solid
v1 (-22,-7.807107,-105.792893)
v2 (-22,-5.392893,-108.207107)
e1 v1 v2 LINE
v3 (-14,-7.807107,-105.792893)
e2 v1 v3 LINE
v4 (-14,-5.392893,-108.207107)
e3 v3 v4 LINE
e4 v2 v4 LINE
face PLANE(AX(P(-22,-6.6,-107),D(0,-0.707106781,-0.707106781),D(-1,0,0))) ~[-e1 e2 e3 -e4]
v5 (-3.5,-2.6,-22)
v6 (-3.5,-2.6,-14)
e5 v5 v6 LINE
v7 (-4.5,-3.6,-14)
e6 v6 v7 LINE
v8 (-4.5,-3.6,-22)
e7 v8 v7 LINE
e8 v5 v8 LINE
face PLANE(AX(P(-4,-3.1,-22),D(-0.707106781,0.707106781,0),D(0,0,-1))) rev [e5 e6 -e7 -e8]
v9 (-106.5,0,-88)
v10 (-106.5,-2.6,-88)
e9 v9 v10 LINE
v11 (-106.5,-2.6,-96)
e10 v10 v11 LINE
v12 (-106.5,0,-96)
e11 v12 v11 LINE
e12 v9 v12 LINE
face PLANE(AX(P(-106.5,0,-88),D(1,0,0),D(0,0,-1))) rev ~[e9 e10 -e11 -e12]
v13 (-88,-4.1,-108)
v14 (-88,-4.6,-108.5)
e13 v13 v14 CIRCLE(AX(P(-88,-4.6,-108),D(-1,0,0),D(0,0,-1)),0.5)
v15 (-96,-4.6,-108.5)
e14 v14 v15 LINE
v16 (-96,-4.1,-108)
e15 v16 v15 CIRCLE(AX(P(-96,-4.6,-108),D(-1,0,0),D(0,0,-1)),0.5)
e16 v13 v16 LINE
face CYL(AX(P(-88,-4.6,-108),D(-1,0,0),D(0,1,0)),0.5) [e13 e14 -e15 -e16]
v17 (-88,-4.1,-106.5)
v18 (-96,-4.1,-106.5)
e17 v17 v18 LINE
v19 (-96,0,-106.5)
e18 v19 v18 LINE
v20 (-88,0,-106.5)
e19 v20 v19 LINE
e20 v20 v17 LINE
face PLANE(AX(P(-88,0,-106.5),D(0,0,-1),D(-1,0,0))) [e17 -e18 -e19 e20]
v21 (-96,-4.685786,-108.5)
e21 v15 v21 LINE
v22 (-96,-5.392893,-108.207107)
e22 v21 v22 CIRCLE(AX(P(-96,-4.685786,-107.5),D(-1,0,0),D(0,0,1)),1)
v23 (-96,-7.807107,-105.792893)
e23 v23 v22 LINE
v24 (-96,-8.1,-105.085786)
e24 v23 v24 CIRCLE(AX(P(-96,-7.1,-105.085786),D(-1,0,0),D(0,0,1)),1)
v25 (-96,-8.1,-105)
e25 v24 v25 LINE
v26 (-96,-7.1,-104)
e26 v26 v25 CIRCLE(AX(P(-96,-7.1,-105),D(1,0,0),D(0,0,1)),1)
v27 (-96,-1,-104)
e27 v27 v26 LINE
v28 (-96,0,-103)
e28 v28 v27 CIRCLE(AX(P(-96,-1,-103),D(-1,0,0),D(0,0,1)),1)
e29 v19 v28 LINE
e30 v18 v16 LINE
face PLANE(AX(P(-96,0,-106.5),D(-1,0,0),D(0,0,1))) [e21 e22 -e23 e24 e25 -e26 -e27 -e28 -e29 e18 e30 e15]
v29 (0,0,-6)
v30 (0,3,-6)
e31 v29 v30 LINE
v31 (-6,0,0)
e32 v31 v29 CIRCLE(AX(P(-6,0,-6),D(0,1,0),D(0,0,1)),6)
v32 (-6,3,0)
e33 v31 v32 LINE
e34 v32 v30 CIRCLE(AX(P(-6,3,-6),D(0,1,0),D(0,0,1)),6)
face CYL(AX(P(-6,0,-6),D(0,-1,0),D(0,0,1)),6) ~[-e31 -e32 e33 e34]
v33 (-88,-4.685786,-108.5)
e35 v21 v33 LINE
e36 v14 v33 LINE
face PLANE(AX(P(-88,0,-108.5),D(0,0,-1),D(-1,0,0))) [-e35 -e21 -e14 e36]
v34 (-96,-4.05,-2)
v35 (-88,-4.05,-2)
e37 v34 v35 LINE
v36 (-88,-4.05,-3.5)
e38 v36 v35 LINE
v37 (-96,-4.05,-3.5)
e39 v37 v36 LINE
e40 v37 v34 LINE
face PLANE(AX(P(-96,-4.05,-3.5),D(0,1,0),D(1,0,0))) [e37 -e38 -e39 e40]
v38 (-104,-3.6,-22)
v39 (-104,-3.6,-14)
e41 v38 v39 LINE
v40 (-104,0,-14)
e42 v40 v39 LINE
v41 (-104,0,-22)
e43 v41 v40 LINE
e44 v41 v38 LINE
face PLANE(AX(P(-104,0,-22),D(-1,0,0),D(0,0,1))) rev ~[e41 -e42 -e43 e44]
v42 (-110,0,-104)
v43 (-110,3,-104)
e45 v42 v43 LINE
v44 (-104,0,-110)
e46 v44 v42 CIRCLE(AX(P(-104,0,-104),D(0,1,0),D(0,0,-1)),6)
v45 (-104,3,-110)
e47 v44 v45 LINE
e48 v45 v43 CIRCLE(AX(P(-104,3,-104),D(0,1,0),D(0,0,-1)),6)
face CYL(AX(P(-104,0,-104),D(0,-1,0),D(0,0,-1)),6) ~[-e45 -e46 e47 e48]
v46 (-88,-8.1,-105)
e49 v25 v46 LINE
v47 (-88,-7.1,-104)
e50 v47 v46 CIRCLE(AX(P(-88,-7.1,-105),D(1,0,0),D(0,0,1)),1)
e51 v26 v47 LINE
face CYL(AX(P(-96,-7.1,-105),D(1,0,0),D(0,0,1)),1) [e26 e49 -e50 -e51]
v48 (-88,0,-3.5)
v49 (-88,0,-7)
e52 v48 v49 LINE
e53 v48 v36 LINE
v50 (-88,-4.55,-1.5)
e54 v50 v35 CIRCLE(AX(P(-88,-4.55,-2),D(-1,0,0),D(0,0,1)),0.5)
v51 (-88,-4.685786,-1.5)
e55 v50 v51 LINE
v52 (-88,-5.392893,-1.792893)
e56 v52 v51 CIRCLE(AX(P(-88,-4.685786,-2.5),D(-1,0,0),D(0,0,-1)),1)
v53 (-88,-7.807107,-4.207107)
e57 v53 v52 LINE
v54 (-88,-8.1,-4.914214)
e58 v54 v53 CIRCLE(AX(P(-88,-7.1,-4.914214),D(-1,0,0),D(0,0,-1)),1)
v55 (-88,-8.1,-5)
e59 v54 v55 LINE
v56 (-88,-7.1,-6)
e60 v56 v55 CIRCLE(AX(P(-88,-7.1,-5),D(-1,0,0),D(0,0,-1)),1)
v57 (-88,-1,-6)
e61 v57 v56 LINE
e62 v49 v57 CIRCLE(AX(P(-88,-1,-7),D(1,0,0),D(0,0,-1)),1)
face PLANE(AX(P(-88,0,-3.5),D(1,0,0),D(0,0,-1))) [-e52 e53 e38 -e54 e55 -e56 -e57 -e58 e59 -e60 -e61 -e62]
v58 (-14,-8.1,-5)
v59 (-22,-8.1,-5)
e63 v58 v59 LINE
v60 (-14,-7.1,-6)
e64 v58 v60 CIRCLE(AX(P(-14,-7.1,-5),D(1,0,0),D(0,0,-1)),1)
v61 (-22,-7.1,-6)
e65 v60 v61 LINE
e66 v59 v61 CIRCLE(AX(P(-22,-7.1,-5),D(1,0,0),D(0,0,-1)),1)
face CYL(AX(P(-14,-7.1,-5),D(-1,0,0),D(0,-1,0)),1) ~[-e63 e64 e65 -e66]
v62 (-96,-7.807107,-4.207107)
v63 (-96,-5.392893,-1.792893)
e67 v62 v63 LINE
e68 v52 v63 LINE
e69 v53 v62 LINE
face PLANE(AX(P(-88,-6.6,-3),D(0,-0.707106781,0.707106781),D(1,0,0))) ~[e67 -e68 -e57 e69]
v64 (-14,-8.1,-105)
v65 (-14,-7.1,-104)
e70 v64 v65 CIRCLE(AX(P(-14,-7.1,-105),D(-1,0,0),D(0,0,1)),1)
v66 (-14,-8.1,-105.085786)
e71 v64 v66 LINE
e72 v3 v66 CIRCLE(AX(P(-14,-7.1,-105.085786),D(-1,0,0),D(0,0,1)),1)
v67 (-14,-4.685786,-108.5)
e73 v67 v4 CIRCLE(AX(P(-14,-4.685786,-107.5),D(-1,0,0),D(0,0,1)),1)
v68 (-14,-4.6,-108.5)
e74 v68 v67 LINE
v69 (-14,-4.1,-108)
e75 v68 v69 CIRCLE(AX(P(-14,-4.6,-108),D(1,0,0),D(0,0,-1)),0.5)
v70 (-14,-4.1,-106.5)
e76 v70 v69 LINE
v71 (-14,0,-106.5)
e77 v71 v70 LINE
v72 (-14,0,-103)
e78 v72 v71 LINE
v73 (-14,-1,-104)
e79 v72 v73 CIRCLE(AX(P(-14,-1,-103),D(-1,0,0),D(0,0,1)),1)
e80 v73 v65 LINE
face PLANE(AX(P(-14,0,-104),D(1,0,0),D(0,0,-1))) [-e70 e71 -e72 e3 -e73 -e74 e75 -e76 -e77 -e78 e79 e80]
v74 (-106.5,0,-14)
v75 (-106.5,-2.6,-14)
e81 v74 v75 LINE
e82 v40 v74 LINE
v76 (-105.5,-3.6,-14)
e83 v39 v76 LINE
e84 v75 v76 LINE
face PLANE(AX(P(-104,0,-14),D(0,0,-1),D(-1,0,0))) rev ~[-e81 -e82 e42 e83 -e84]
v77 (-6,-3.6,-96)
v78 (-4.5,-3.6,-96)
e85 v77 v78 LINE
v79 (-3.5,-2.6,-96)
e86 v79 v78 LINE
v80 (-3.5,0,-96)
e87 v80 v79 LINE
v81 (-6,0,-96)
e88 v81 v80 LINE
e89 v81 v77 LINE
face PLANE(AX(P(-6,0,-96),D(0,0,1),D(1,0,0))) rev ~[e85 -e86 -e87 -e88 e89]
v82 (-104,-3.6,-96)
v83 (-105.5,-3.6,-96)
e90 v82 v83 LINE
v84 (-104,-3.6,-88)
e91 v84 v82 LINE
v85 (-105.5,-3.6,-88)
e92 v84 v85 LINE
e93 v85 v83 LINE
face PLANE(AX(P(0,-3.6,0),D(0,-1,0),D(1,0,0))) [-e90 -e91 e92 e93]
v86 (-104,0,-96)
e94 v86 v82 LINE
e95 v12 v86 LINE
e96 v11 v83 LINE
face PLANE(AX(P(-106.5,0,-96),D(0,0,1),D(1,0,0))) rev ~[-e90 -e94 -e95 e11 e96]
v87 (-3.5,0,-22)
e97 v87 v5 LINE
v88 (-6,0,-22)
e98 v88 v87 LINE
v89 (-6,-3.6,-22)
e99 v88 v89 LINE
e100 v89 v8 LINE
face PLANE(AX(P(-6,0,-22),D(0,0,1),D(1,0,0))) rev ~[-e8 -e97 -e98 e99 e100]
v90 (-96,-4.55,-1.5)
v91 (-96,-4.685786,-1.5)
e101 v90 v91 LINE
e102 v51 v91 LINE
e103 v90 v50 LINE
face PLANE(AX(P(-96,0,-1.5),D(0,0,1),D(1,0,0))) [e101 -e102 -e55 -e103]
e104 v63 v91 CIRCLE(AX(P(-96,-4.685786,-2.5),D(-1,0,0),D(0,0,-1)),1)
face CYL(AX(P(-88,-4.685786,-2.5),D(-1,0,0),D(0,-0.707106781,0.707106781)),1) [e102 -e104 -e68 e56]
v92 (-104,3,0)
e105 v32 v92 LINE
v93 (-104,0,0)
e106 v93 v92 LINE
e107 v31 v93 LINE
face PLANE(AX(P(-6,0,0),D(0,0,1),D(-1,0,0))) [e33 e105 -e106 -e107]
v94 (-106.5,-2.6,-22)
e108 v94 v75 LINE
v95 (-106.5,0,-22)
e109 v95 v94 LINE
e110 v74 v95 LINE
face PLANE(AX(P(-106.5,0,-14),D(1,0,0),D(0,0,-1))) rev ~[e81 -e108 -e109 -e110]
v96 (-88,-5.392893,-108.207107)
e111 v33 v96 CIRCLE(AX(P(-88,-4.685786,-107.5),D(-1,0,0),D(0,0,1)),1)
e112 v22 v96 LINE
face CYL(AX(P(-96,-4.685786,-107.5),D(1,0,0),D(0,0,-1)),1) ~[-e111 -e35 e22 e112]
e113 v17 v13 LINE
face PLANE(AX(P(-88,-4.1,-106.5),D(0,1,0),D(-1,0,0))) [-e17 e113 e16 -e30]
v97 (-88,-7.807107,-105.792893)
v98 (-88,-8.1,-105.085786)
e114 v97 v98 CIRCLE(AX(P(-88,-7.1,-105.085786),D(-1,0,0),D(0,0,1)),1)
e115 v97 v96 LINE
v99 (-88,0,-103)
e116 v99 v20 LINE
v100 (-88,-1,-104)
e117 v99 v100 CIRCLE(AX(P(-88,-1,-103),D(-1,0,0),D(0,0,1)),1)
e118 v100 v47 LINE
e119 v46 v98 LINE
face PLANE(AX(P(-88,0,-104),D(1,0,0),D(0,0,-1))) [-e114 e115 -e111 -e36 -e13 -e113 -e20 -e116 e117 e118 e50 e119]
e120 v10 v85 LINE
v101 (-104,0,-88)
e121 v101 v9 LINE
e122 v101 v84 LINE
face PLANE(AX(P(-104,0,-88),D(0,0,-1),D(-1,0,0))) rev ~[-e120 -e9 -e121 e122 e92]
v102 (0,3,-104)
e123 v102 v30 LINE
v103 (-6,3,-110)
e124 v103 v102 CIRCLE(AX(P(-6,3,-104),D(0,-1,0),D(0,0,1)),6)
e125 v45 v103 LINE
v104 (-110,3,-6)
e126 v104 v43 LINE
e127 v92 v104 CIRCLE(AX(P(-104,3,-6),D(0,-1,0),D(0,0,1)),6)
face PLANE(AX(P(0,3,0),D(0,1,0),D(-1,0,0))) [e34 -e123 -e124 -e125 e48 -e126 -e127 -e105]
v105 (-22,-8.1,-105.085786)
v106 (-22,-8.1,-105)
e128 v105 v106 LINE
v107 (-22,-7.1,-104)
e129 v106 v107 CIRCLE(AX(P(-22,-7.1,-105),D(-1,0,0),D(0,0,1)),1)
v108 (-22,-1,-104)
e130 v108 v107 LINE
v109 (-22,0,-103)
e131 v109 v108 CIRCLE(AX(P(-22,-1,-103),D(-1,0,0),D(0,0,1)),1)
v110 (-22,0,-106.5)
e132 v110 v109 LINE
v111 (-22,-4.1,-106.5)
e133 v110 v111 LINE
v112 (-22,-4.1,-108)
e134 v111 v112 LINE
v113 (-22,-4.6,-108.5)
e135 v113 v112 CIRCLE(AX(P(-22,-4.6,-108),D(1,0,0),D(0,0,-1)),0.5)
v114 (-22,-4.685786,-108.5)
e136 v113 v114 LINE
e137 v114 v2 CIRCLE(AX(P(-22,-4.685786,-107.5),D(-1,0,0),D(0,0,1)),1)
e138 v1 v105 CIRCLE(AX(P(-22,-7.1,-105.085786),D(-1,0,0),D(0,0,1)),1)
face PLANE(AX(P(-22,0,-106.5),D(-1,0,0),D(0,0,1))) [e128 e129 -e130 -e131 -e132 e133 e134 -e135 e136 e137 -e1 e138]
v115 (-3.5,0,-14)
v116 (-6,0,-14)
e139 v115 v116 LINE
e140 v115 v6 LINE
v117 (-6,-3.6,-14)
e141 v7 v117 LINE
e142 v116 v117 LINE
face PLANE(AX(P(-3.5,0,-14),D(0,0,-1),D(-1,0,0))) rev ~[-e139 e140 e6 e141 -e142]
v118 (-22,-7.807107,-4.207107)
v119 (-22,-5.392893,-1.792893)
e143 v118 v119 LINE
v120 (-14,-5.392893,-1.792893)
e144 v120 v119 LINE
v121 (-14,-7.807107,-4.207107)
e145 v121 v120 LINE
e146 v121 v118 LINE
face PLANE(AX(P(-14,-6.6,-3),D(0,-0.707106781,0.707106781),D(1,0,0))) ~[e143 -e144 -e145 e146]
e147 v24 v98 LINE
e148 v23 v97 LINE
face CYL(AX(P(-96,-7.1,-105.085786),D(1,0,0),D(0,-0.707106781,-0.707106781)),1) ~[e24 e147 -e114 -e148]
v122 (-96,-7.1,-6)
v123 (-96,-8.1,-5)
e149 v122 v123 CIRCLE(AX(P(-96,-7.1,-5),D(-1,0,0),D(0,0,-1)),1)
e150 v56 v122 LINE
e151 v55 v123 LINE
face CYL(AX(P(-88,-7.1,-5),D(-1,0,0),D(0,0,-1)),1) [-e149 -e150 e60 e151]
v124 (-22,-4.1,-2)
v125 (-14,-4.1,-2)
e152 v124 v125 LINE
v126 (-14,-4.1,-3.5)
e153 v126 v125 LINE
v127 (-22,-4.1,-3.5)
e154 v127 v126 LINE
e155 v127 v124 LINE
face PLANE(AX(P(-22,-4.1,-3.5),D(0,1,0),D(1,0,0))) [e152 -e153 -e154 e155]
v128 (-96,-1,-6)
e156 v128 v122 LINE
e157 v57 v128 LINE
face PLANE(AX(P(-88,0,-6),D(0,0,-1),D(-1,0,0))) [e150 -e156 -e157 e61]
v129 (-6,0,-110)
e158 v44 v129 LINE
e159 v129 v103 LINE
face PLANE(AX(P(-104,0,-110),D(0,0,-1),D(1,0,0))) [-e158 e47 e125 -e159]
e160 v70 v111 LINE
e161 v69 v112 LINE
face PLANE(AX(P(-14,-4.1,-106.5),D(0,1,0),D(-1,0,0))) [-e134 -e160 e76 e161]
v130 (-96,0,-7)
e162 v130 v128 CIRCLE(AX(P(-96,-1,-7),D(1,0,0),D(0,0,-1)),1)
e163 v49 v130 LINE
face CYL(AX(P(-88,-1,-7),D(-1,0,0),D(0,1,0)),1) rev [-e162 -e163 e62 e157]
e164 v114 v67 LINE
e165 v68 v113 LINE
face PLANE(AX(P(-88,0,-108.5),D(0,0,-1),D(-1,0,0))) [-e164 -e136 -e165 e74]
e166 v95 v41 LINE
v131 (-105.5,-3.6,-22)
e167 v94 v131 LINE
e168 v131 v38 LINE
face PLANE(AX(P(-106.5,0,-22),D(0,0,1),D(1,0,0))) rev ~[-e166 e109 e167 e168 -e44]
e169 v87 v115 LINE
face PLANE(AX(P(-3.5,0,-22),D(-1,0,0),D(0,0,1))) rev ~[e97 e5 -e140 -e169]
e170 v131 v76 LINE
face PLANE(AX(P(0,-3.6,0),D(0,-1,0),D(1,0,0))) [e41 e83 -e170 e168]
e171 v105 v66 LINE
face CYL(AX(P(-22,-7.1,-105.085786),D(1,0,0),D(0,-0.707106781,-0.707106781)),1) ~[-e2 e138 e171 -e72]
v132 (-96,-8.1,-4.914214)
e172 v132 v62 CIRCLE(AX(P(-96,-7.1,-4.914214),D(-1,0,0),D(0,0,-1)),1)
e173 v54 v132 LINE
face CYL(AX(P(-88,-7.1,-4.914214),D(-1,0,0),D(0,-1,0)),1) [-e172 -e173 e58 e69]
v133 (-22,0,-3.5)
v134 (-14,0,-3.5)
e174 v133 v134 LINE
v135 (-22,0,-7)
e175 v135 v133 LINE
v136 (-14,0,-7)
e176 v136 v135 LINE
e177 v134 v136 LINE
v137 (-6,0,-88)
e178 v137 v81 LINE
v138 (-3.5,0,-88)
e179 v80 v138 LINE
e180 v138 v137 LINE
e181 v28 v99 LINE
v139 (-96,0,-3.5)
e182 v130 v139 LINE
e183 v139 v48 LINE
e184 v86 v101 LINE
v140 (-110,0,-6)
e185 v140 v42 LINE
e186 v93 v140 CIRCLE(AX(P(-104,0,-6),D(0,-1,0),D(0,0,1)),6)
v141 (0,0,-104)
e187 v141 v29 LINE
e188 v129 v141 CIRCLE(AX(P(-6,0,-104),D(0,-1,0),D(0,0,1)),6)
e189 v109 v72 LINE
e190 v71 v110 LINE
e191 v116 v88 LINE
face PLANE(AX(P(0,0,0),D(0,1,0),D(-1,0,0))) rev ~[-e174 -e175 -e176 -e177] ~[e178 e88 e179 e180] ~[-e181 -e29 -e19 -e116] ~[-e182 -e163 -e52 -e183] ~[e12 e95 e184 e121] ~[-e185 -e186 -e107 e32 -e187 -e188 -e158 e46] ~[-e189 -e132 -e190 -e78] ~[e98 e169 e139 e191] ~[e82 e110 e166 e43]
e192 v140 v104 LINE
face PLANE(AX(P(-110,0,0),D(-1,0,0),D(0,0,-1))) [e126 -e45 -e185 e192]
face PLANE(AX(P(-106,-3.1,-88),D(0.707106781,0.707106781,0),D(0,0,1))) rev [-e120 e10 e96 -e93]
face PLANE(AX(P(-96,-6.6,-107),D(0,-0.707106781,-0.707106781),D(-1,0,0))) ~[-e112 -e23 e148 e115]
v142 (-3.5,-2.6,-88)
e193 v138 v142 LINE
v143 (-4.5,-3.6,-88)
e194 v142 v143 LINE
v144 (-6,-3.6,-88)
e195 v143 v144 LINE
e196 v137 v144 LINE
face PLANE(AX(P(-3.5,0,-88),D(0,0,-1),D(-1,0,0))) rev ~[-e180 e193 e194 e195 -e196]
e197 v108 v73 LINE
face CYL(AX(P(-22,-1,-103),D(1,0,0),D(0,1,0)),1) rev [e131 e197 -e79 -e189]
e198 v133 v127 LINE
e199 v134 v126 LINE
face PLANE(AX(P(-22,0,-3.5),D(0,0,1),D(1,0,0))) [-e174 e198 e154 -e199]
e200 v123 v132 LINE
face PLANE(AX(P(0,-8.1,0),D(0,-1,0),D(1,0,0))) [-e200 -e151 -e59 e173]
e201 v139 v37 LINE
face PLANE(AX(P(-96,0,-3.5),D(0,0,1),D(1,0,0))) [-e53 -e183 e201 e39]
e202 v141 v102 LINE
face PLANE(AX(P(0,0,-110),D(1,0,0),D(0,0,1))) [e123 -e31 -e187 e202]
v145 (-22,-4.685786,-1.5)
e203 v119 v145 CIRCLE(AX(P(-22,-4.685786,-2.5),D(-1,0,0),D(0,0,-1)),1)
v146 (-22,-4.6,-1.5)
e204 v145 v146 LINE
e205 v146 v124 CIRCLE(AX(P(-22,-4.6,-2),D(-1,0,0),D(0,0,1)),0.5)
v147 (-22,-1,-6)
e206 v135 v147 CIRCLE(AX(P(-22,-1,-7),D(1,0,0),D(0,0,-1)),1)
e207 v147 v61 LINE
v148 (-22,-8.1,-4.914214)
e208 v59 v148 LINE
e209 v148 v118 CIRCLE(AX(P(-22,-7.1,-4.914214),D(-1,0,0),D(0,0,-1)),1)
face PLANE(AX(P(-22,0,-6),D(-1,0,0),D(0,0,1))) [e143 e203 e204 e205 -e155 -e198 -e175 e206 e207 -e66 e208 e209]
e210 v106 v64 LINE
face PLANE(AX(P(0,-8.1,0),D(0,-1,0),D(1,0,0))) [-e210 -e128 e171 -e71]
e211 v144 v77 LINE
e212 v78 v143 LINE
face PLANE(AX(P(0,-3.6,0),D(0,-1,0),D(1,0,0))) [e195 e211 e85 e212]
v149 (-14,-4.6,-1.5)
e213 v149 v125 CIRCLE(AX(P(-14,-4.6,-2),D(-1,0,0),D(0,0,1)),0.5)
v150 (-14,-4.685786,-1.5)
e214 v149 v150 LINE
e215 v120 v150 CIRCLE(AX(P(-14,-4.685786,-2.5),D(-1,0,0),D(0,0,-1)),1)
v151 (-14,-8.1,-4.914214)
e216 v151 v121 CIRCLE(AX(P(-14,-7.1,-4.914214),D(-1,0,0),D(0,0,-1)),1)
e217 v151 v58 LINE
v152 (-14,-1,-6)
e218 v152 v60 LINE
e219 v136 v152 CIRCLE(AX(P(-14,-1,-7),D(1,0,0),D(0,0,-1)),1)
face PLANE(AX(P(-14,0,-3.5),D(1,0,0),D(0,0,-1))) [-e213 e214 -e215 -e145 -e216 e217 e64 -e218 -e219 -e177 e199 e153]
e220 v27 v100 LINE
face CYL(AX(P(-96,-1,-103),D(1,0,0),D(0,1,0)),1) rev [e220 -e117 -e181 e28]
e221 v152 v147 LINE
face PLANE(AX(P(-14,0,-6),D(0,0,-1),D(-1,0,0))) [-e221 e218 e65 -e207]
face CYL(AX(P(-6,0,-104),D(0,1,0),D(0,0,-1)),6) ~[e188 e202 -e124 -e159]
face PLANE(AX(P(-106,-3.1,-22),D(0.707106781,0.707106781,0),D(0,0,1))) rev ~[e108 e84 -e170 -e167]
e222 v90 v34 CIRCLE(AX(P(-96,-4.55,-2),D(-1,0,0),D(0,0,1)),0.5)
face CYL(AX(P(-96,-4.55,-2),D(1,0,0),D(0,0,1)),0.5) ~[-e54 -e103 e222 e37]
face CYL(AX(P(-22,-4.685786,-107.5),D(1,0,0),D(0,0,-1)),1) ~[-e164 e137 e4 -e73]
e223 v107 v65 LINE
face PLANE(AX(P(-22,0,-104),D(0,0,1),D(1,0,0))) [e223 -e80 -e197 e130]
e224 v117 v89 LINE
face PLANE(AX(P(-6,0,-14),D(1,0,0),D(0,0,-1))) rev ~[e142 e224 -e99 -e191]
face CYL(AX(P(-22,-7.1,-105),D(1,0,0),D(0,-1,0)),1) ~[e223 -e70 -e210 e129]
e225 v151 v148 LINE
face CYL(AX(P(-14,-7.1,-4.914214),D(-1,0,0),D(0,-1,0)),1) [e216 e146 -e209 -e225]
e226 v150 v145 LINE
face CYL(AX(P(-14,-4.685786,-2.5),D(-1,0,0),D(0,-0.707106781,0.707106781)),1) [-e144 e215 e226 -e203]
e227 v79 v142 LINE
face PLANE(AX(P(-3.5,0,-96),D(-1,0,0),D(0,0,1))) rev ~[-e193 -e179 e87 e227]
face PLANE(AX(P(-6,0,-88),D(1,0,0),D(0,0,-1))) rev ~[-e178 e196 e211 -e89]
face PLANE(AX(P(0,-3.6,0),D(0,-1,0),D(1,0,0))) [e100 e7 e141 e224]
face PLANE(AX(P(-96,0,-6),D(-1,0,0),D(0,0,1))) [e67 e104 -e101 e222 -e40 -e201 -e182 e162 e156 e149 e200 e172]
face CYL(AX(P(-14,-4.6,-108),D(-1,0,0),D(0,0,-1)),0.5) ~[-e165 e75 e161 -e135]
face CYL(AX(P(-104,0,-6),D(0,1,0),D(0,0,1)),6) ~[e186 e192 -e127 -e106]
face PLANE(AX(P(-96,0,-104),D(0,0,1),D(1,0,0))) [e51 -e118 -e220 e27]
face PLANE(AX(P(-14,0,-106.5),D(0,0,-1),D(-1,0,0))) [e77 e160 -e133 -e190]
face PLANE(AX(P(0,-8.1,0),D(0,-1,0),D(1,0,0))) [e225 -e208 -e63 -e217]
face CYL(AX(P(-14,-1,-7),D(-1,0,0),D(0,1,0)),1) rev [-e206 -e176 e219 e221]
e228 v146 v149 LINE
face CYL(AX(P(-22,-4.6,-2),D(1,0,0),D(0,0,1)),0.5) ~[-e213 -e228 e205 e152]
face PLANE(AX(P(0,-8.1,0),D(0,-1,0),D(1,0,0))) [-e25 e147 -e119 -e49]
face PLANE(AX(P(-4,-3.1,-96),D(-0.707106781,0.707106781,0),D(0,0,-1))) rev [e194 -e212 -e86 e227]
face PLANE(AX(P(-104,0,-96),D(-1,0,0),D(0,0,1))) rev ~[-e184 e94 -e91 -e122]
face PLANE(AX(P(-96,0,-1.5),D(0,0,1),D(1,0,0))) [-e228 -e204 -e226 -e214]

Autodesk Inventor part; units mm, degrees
ref_plane "YZ Plane" through (0, 0, 0) normal (1, 0, 0) x (0, 1, 0)
ref_plane "XZ Plane" through (0, 0, 0) normal (0, 1, 0) x (-1, 0, 0)
ref_plane "XY Plane" through (0, 0, 0) normal (0, 0, 1) x (1, 0, 0)
sketch "Sketch1" plane through (0, 0, 0) normal (0, 1, 0) x (-1, 0, 0)
  line L0 (6, 0) -> (110, 0)
  line L1 (110, 0) -> (110, -104)
  line L2 (104, -110) -> (0, -110)
  line L3 (0, -110) -> (0, -6)
  arc A0 (104, -110) -> (110, -104) centre (104, -104) ccw
  arc A1 (6, 0) -> (0, -6) centre (6, -6) ccw
  point P0 (0, 0)
  point P1 (110, -110)
  dimension "d0" = 110
  dimension "d1" = 110
  dimension "d2" = 6
extrude "Extrusion1" add sketch "Sketch1" along normal blind 3
fillet "Fillet1" radius 6 2 edges at (-110, 1.5, 0) (0, 1.5, -110)
sketch "Sketch3" plane through (0, 0, 0) normal (0, -1, 0) x (1, 0, 0)
  line L0 (-88, -106.5) -> (-96, -106.5)
  line L1 (-96, -106.5) -> (-96, -104)
  line L2 (-96, -104) -> (-88, -104)
  line L3 (-88, -104) -> (-88, -106.5)
  line L4 (-6, -110) -> (-104, -110) projected
  line L5 (-110, -104) -> (-110, -6) projected
  line L6 (-14, -106.5) -> (-22, -106.5)
  line L7 (-22, -106.5) -> (-22, -104)
  line L8 (-22, -104) -> (-14, -104)
  line L9 (-14, -104) -> (-14, -106.5)
  line L10 (-88, -6) -> (-96, -6)
  line L11 (-96, -6) -> (-96, -3.5)
  line L12 (-96, -3.5) -> (-88, -3.5)
  line L13 (-88, -3.5) -> (-88, -6)
  line L14 (-14, -6) -> (-22, -6)
  line L15 (-22, -6) -> (-22, -3.5)
  line L16 (-22, -3.5) -> (-14, -3.5)
  line L17 (-14, -3.5) -> (-14, -6)
  line L18 (-106.5, -96) -> (-104, -96)
  line L19 (-104, -96) -> (-104, -88)
  line L20 (-104, -88) -> (-106.5, -88)
  line L21 (-106.5, -88) -> (-106.5, -96)
  line L22 (-106.5, -22) -> (-104, -22)
  line L23 (-104, -14) -> (-106.5, -14)
  line L24 (-104, -22) -> (-104, -14)
  line L25 (-106.5, -14) -> (-106.5, -22)
  line L26 (-6, -96) -> (-3.5, -96)
  line L27 (-3.5, -88) -> (-6, -88)
  line L28 (-3.5, -96) -> (-3.5, -88)
  line L29 (-6, -88) -> (-6, -96)
  line L30 (-6, -22) -> (-3.5, -22)
  line L31 (-3.5, -14) -> (-6, -14)
  line L32 (-3.5, -22) -> (-3.5, -14)
  line L33 (-6, -14) -> (-6, -22)
  point P0 (0, 0)
  dimension "d20" = 8
  dimension "d21" = 2.5
  dimension "d22" = 3.5
  dimension "d23" = 14
  dimension "d26" = 74
  dimension "d29" = 100.5
  dimension "d55" = 8
  dimension "d56" = 2.5
  dimension "d57" = 14
  dimension "d60" = 74
  dimension "d63" = 100.5
  dimension "d66" = 3.5
extrude "Extrusion3" add sketch "Sketch3" along normal blind 8.1
sketch "Sketch4" plane through (-88, 0, -106.5) normal (0, 0, -1) x (-1, 0, 0)
  line L0 (0, 0) -> (0, -8.1) projected
  line L1 (8, -8.1) -> (0, -8.1)
  line L2 (0, -8.1) -> (0, -4.1)
  line L3 (0, -4.1) -> (8, -4.1)
  line L4 (8, -4.1) -> (8, -8.1)
  line L5 (8, -8.1) -> (0, -8.1) projected
  line L6 (8, 0) -> (8, -8.1) projected
  line L7 (-66, 0) -> (-66, -8.1) projected
  line L8 (-74, 0) -> (-74, -8.1) projected
  line L9 (-66, -8.1) -> (-74, -8.1)
  line L10 (-74, -8.1) -> (-74, -4.1)
  line L11 (-74, -4.1) -> (-66, -4.1)
  line L12 (-66, -4.1) -> (-66, -8.1)
  point P0 (-88, 0)
  point P1 (0, -8.1)
  dimension "d34" = 4
  dimension "d35" = 0
  dimension "d36" = 0
  dimension "d37" = 4
extrude "Extrusion4" add sketch "Sketch4" along normal blind 2
chamfer "Chamfer1" distance 3 angle 45 2 edges at (-92, -8.1, -108.5) (-18, -8.1, -108.5)
fillet "Fillet2" radius 1 6 edges at (-92, -5.1, -108.5) (-18, -5.1, -108.5) (-18, -8.1, -105.5) (-92, -8.1, -105.5) (-92, -8.1, -104) (-18, -8.1, -104)
fillet "Fillet3" radius 0.5 2 edges at (-92, -4.1, -108.5) (-18, -4.1, -108.5)
sketch "Sketch5" plane through (-96, 0, -3.5) normal (0, 0, 1) x (1, 0, 0)
  line L0 (8, 0) -> (8, -8.1) projected
  line L1 (0, 0) -> (0, -8.1) projected
  line L2 (8, -8.1) -> (0, -8.1)
  line L3 (0, -8.1) -> (0, -4.05)
  line L4 (0, -4.05) -> (8, -4.05)
  line L5 (8, -4.05) -> (8, -8.1)
  line L6 (82, -8.1) -> (74, -8.1) projected
  line L7 (82, -8.1) -> (74, -8.1)
  line L8 (74, -8.1) -> (74, -4.1)
  line L9 (74, -4.1) -> (82, -4.1)
  line L10 (82, -4.1) -> (82, -8.1)
  point P0 (96, 0)
  point P1 (8, -4.05)
  dimension "d45" = 4.05
extrude "Extrusion5" add sketch "Sketch5" along normal blind 2
chamfer "Chamfer2" distance 3 angle 45 2 edges at (-92, -8.1, -1.5) (-18, -8.1, -1.5)
fillet "Fillet4" radius 1 6 edges at (-18, -8.1, -4.5) (-18, -5.1, -1.5) (-18, -8.1, -6) (-92, -8.1, -4.5) (-92, -5.1, -1.5) (-92, -8.1, -6)
fillet "Fillet5" radius 0.5 2 edges at (-92, -4.05, -1.5) (-18, -4.1, -1.5)
fillet "Fillet6" radius 1 1 edges at (-92, 0, -104)
fillet "Fillet7" radius 1 3 edges at (-18, 0, -104) (-18, 0, -6) (-92, 0, -6)
sketch "Sketch6" plane through (0, -8.1, 0) normal (0, -1, 0) x (1, 0, 0)
  line L0 (-104, -96) -> (-106.5, -96) projected
  line L1 (-104, -88) -> (-104, -96) projected
  line L2 (-106.5, -96) -> (-104, -96)
  line L3 (-104, -96) -> (-104, -88)
  line L4 (-104, -88) -> (-106.5, -88)
  line L5 (-106.5, -88) -> (-106.5, -96)
  line L6 (-106.5, -22) -> (-106.5, -14) projected
  line L7 (-106.5, -22) -> (-104, -22)
  line L8 (-104, -22) -> (-104, -14)
  line L9 (-104, -14) -> (-106.5, -14)
  line L10 (-106.5, -14) -> (-106.5, -22)
  line L11 (-6, -14) -> (-6, -22) projected
  line L12 (-3.5, -22) -> (-3.5, -14) projected
  line L13 (-6, -22) -> (-3.5, -22)
  line L14 (-3.5, -22) -> (-3.5, -14)
  line L15 (-3.5, -14) -> (-6, -14)
  line L16 (-6, -14) -> (-6, -22)
  line L17 (-3.5, -88) -> (-6, -88)
  line L18 (-6, -88) -> (-6, -96)
  line L19 (-6, -96) -> (-3.5, -96)
  line L20 (-3.5, -96) -> (-3.5, -88)
  point P0 (0, 0)
extrude "Extrusion6" cut sketch "Sketch6" against normal blind 4.5
chamfer "Chamfer3" distance 1 angle 45 4 edges at (-3.5, -3.6, -18) (-3.5, -3.6, -92) (-106.5, -3.6, -92) (-106.5, -3.6, -18)
equation "\"d26\" = d0 - d20 - 2 * d23"
equation "\"d29\" = d1 - d21 - 2 * d22"
equation "\"d55\" = d20"
equation "\"d56\" = d21"
equation "\"d57\" = d23"
equation "\"d60\" = d26"
equation "\"d63\" = d29"
equation "\"d66\" = d22"
properties part number "Cover side-2"
